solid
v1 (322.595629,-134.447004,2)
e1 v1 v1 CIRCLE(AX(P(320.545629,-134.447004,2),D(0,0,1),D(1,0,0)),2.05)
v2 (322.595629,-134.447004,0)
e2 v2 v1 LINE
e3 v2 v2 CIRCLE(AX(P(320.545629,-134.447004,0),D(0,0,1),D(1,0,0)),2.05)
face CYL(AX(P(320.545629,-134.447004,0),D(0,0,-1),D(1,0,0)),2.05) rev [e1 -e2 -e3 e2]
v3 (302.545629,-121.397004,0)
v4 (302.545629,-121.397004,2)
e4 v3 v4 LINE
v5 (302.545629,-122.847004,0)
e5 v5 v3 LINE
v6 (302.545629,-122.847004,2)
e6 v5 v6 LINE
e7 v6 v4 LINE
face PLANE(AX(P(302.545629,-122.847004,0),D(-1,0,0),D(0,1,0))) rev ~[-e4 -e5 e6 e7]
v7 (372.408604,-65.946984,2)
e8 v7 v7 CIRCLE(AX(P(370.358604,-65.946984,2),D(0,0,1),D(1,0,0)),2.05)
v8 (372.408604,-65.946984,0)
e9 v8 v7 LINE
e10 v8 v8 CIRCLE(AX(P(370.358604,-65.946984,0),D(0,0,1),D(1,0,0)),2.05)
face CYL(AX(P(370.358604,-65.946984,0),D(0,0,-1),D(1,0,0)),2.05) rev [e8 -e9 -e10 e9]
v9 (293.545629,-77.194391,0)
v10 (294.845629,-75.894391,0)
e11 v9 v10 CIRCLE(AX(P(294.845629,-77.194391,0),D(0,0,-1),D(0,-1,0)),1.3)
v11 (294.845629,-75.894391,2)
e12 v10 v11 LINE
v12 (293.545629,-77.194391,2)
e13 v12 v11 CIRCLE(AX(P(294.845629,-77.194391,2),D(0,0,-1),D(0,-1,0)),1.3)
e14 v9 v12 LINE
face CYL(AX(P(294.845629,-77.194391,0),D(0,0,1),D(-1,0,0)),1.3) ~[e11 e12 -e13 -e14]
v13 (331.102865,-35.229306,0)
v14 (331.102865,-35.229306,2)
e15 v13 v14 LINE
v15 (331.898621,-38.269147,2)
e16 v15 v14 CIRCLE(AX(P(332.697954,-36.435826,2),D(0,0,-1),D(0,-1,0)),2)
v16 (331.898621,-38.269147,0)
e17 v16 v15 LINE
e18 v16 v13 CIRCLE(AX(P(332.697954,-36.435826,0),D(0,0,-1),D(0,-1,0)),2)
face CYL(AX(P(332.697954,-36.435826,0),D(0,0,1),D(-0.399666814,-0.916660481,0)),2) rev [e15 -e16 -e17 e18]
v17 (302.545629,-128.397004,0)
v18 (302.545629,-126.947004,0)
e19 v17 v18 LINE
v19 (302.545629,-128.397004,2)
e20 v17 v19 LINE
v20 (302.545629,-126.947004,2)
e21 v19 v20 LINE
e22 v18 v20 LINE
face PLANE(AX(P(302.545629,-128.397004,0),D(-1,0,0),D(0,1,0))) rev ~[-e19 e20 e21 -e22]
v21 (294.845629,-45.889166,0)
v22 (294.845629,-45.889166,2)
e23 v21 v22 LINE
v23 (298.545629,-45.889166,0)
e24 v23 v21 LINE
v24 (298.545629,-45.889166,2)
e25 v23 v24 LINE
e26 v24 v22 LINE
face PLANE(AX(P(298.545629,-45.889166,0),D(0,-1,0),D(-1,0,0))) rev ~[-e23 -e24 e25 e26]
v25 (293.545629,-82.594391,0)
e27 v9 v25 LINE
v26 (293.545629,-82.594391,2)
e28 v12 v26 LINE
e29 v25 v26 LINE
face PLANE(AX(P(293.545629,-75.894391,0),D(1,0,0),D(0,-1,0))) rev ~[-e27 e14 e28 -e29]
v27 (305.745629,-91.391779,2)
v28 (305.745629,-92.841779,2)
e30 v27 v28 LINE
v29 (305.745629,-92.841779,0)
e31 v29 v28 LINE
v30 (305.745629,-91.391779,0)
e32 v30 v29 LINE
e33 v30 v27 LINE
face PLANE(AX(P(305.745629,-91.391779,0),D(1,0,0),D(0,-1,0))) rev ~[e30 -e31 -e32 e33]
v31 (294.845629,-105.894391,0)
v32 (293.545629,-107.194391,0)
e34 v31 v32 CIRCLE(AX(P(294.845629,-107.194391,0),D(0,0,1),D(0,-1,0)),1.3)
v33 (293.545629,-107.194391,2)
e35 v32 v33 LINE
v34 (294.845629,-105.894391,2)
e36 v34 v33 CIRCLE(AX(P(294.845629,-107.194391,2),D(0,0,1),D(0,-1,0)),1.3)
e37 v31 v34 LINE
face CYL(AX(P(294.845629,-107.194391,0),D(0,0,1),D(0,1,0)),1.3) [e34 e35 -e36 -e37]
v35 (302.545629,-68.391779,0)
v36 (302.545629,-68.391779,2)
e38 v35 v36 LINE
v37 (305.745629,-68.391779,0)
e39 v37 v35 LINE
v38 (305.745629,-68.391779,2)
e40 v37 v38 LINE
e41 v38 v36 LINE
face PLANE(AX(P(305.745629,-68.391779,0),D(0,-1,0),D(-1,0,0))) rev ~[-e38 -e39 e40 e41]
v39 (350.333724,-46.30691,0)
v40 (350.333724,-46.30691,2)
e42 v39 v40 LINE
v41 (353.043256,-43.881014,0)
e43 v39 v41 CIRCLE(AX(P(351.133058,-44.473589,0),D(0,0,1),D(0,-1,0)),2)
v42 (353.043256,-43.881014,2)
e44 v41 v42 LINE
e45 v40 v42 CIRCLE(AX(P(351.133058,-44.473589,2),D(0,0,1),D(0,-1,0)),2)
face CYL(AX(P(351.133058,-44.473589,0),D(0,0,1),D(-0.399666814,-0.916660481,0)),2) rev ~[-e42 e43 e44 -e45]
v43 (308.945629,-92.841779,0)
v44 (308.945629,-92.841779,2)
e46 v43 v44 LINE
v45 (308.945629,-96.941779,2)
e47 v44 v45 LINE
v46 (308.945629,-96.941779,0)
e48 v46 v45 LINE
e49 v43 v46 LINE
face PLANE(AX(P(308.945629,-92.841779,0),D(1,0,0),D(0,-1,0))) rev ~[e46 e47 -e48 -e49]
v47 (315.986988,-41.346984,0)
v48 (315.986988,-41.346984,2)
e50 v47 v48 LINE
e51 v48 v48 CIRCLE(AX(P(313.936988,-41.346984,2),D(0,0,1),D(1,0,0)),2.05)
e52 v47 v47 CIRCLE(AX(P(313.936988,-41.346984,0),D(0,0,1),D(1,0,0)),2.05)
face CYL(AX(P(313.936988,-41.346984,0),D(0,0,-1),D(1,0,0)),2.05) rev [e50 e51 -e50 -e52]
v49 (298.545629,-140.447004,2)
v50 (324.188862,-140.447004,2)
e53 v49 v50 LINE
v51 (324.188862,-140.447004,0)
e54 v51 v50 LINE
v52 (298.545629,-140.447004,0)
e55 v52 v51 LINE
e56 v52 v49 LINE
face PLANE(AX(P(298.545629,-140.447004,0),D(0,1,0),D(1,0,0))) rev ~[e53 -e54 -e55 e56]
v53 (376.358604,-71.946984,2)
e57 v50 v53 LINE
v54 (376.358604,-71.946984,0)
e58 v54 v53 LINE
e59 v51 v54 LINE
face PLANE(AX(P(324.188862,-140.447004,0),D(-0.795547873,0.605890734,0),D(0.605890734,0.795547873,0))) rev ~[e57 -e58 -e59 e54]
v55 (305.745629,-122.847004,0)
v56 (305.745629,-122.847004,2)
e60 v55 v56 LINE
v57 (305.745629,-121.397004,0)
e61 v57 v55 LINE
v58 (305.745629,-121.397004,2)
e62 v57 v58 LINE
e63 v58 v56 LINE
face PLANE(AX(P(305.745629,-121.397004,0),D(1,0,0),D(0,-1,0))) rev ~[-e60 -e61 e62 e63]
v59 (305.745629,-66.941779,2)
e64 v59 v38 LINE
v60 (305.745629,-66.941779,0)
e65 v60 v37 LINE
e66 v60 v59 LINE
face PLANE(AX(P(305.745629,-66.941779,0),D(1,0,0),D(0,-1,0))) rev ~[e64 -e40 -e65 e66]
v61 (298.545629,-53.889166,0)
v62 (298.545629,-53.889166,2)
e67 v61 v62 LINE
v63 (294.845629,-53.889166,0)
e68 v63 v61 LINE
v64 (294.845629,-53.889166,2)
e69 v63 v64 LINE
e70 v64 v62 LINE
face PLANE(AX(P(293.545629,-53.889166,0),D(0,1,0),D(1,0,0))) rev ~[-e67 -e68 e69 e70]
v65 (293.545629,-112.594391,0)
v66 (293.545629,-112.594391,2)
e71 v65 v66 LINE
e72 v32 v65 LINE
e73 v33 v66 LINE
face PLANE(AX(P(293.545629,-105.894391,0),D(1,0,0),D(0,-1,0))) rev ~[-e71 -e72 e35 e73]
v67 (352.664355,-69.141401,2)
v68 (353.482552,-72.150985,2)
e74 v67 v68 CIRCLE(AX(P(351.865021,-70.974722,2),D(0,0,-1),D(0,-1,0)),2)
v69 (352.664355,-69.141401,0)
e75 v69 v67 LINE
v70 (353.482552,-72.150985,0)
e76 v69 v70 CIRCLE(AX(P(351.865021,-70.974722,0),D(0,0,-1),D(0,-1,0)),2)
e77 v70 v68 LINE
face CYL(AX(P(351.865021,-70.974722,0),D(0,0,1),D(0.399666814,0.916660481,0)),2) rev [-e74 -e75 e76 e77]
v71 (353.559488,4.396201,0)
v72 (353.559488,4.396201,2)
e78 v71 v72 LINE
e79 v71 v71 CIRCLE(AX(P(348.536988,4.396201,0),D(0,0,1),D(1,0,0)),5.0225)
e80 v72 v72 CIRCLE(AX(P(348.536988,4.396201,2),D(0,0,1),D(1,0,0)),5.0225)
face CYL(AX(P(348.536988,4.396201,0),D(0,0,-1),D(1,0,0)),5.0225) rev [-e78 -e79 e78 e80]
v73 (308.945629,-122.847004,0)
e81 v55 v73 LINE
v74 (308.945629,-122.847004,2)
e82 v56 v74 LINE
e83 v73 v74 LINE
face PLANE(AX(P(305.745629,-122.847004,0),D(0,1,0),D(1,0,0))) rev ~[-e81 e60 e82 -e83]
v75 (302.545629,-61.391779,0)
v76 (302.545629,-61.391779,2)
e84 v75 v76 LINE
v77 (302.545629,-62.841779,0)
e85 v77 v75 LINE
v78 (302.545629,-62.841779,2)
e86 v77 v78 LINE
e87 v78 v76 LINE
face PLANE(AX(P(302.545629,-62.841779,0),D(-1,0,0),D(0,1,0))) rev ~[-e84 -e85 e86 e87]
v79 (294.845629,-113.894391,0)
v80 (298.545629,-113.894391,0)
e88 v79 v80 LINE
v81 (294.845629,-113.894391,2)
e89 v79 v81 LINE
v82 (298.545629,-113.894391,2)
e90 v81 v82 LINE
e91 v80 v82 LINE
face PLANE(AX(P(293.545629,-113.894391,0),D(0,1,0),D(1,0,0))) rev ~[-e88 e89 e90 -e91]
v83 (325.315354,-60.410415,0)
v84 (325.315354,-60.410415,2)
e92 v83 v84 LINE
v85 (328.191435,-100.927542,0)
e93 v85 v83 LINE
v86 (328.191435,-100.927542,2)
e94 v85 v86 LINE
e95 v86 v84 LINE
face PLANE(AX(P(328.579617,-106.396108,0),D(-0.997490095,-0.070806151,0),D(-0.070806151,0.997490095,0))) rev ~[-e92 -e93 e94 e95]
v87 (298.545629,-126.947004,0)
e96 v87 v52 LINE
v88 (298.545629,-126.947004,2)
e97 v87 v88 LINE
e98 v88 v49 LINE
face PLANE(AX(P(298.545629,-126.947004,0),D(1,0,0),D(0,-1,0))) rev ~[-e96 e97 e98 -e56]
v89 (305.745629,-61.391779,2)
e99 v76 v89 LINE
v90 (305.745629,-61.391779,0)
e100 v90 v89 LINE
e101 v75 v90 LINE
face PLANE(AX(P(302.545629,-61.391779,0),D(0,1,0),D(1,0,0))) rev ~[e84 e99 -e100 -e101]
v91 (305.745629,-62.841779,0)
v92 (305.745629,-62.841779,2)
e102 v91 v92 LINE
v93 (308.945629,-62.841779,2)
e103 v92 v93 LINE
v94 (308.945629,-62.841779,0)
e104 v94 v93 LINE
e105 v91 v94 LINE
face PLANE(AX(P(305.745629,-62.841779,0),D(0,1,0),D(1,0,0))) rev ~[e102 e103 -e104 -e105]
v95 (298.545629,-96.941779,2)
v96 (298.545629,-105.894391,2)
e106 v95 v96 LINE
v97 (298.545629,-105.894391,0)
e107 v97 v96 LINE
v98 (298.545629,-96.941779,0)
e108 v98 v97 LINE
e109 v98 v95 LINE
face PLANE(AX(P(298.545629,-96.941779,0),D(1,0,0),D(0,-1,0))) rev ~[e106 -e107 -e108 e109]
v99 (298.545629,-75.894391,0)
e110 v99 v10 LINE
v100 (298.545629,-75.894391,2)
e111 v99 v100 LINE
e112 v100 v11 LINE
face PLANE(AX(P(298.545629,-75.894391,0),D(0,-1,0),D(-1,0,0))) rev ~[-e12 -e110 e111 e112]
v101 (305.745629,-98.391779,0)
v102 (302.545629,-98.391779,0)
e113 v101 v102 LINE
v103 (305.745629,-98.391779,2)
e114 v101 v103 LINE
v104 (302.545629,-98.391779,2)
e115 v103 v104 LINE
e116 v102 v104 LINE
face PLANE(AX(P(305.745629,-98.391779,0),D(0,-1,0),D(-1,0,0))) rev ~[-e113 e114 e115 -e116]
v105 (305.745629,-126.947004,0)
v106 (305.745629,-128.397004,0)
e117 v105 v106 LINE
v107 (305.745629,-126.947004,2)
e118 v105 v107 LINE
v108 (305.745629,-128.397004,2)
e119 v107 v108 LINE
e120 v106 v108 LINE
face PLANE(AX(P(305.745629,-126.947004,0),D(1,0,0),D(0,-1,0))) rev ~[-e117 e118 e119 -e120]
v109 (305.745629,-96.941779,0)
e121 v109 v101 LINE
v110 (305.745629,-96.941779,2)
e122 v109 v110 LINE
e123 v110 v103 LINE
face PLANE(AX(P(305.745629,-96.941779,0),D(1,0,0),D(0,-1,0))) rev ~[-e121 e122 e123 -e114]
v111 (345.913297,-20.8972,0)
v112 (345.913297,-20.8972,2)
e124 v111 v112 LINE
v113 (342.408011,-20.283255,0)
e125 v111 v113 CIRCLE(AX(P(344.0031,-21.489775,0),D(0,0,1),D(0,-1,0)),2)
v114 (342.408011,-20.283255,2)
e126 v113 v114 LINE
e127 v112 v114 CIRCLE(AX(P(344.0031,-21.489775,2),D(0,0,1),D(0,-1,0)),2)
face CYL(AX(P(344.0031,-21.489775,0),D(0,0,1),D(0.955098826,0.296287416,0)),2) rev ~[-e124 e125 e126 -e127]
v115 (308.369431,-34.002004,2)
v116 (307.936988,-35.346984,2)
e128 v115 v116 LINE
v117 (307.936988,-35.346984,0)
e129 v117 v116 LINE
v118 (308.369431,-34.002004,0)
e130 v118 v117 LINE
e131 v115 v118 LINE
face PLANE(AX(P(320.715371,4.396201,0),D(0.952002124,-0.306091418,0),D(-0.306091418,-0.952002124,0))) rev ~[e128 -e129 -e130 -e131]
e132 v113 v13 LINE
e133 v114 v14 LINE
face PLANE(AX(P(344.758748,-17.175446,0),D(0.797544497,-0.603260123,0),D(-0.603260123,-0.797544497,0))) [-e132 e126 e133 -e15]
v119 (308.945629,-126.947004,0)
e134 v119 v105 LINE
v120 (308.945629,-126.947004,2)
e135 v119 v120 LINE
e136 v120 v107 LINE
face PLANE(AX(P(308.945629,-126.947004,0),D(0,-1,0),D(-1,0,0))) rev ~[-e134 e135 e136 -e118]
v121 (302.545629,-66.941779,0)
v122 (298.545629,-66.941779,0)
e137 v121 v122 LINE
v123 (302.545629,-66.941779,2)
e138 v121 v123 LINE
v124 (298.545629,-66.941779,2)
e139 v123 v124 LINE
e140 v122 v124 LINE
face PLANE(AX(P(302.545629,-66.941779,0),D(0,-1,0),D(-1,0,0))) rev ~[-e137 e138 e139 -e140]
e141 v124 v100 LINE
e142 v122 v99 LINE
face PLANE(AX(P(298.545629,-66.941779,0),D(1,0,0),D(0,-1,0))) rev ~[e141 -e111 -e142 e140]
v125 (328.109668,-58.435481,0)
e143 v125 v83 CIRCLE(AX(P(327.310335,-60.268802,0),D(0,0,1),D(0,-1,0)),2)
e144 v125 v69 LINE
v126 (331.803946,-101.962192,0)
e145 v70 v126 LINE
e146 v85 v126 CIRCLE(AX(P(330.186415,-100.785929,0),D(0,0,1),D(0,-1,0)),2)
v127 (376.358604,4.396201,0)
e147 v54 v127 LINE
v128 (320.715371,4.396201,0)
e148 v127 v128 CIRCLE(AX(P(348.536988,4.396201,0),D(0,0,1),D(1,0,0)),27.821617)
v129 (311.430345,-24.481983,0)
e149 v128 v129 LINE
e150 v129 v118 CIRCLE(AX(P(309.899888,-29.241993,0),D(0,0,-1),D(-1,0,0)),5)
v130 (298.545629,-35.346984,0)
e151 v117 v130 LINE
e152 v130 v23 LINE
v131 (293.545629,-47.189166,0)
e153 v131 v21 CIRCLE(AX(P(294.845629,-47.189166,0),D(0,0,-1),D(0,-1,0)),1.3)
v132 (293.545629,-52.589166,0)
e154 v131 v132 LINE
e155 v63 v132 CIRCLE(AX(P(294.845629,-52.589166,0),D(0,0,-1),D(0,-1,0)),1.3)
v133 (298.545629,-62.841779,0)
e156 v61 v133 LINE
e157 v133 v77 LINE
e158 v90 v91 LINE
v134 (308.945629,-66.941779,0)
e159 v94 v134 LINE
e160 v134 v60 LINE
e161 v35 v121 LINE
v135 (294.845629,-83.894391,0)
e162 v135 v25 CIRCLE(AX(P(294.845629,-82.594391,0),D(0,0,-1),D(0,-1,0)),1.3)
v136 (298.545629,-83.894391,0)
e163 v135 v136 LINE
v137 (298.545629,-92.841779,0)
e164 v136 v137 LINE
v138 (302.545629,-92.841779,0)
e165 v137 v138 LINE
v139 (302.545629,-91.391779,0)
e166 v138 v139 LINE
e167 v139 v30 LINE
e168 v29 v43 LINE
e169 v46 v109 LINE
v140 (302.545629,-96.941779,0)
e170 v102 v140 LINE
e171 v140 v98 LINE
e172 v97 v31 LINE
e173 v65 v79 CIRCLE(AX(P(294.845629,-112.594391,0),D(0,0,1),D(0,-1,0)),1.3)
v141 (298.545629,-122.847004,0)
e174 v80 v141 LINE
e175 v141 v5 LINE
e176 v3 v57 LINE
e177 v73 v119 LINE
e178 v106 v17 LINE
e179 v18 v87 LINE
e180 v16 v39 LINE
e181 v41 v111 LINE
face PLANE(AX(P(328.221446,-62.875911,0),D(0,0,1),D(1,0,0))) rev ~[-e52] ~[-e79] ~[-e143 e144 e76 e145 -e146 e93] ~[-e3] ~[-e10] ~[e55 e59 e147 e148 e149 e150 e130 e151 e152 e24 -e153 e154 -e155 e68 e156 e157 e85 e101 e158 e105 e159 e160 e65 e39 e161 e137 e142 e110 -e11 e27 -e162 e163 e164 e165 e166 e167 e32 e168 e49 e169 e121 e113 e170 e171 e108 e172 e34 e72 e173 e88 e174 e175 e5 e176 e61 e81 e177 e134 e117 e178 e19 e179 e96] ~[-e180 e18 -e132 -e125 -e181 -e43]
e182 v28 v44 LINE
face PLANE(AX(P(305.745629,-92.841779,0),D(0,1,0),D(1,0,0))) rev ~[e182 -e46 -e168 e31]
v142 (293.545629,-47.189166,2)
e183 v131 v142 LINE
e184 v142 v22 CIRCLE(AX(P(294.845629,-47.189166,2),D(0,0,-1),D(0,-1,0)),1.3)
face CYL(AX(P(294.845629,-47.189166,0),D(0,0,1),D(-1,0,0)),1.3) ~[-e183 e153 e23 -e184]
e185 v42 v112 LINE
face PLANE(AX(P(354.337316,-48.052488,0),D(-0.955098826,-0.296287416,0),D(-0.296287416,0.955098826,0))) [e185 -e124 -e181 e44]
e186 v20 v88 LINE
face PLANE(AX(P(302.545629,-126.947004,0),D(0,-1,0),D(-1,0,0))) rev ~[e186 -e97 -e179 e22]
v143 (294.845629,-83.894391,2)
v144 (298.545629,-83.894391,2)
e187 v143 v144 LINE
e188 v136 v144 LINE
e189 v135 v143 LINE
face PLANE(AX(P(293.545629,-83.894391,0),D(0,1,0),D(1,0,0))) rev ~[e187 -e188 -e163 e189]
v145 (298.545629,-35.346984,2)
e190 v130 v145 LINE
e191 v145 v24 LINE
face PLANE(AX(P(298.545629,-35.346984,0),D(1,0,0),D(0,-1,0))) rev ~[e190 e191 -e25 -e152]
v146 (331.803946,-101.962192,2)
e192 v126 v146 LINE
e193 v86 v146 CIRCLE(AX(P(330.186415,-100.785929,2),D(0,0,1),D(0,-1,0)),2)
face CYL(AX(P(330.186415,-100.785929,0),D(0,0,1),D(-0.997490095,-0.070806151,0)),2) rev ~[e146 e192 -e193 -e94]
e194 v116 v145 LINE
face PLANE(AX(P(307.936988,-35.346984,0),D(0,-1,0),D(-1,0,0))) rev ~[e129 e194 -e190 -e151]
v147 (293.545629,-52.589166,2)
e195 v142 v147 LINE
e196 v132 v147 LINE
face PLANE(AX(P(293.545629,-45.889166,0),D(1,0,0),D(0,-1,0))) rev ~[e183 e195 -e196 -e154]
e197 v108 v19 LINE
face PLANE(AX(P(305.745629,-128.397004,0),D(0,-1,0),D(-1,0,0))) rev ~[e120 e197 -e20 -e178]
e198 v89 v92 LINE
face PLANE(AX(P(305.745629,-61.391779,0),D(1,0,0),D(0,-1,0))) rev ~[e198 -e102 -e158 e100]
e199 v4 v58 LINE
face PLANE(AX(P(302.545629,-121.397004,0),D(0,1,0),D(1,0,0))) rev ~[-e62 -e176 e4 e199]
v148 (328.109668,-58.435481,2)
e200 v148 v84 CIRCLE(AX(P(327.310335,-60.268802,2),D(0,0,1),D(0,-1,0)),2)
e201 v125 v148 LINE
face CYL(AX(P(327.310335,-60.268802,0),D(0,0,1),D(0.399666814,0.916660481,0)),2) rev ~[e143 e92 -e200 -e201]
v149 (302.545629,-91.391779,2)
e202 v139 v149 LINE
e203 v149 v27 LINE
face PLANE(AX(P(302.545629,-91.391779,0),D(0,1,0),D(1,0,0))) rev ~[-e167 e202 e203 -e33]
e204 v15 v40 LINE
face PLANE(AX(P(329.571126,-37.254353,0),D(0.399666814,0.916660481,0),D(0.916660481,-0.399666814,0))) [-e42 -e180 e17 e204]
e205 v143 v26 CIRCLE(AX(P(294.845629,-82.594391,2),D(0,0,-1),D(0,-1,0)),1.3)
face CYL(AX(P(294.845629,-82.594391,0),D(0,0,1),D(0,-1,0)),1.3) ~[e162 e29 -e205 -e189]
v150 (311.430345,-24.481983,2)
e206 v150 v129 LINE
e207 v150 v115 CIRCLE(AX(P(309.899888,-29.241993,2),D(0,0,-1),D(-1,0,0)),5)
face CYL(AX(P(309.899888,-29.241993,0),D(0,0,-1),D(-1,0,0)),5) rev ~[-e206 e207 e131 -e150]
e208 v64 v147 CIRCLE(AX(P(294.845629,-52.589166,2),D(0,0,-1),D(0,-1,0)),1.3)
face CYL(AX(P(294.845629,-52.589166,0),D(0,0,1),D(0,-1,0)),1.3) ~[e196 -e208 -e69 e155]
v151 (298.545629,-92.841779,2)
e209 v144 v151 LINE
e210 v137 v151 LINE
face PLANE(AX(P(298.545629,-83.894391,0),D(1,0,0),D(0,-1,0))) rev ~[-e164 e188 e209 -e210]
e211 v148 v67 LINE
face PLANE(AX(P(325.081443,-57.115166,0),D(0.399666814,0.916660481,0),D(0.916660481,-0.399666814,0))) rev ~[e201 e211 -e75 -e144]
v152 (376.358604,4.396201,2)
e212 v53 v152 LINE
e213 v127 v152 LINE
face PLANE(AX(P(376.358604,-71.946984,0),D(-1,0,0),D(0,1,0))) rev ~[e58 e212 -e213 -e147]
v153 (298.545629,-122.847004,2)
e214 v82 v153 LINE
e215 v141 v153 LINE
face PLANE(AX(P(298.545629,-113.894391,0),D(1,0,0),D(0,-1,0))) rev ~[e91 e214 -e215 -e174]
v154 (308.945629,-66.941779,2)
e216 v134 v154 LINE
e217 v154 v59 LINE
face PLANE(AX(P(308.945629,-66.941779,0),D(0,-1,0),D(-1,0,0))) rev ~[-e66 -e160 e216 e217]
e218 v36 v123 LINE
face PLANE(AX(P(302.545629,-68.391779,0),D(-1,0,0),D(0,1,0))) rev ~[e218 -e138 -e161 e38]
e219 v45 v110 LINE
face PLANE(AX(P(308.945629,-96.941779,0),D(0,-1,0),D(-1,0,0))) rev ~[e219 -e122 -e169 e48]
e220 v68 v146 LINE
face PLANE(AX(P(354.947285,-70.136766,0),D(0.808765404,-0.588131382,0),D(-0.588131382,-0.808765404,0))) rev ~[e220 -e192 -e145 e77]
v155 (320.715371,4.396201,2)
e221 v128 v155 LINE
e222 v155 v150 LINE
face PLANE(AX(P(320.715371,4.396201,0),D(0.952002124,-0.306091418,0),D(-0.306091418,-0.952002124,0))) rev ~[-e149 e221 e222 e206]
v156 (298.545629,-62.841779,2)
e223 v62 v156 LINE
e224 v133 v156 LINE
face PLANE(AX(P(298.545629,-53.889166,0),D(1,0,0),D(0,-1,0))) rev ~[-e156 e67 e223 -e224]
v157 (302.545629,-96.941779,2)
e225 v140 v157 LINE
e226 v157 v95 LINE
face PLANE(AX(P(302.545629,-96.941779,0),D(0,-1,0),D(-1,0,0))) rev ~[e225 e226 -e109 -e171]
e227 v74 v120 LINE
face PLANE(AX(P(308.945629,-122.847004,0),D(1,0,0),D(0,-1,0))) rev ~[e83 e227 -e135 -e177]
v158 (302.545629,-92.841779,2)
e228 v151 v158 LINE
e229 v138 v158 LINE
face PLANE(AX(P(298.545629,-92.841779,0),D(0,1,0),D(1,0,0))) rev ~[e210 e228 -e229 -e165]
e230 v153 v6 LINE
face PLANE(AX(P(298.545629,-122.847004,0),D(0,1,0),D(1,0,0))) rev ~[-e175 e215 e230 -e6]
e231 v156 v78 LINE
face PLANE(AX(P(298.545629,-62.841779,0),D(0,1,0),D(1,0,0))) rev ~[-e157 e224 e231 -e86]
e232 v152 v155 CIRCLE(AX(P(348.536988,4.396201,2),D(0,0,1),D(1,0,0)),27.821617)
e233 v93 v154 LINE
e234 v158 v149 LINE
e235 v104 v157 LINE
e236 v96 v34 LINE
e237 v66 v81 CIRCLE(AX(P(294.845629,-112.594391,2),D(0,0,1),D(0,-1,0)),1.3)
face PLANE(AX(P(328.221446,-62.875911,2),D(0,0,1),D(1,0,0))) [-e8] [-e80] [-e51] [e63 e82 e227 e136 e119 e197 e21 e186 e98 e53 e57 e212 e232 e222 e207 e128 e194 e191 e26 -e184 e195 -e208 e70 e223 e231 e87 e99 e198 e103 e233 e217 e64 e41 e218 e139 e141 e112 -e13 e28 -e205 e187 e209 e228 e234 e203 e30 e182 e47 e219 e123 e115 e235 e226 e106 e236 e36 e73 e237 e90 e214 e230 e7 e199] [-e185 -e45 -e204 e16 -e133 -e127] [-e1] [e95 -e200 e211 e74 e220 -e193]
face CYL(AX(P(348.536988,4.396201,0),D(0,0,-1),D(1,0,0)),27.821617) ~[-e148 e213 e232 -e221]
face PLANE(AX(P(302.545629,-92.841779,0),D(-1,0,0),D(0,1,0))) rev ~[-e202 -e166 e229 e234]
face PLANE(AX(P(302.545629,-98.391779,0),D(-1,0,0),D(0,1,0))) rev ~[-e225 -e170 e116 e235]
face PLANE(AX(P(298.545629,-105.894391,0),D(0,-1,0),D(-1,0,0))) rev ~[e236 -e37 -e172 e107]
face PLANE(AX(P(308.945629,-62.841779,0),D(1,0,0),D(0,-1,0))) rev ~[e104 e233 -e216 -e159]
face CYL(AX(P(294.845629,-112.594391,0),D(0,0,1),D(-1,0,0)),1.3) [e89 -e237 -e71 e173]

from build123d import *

# Parameters (mm, degrees)
SKETCH_1_R          = 5.0225
SKETCH_1_R_2        = 2.05
EXTRUDE_1_DEPTH     = 2
FILLET_1_R          = 2
FILLET_2_R          = 1.3
SKETCH_3_R          = 5
CUT_EXTRUDE_1_DEPTH = 2


with BuildPart() as part:
    # 草图1 → 凸台-拉伸1 (new body)
    with BuildSketch(Plane.XY):
        with BuildLine():
            Line((298.545628784, -83.894391363), (298.545628784, -92.841778663))
            Line((298.545628784, -92.841778663), (302.545628784, -92.841778663))
            Line((302.545628784, -92.841778663), (302.545628784, -91.391778663))
            Line((302.545628784, -91.391778663), (305.745628784, -91.391778663))
            Line((305.745628784, -91.391778663), (305.745628784, -92.841778663))
            Line((305.745628784, -92.841778663), (308.945628784, -92.841778663))
            Line((308.945628784, -92.841778663), (308.945628784, -96.941778663))
            Line((308.945628784, -96.941778663), (305.745628784, -96.941778663))
            Line((305.745628784, -96.941778663), (305.745628784, -98.391778663))
            Line((305.745628784, -98.391778663), (302.545628784, -98.391778663))
            Line((302.545628784, -98.391778663), (302.545628784, -96.941778663))
            Line((302.545628784, -96.941778663), (298.545628784, -96.941778663))
            Line((298.545628784, -96.941778663), (298.545628784, -105.894391358))
            Line((298.545628784, -105.894391358), (293.545628784, -105.894391358))
            Line((293.545628784, -105.894391358), (293.545628784, -113.894391358))
            Line((293.545628784, -113.894391358), (298.545628784, -113.894391358))
            Line((298.545628784, -113.894391358), (298.545628784, -122.847004054))
            Line((298.545628784, -122.847004054), (302.545628784, -122.847004054))
            Line((302.545628784, -122.847004054), (302.545628784, -121.397004054))
            Line((302.545628784, -121.397004054), (305.745628784, -121.397004054))
            Line((305.745628784, -121.397004054), (305.745628784, -122.847004054))
            Line((305.745628784, -122.847004054), (308.945628784, -122.847004054))
            Line((308.945628784, -122.847004054), (308.945628784, -126.947004054))
            Line((308.945628784, -126.947004054), (305.745628784, -126.947004054))
            Line((305.745628784, -126.947004054), (305.745628784, -128.397004054))
            Line((305.745628784, -128.397004054), (302.545628784, -128.397004054))
            Line((302.545628784, -128.397004054), (302.545628784, -126.947004054))
            Line((302.545628784, -126.947004054), (298.545628784, -126.947004054))
            Line((298.545628784, -126.947004054), (298.545628784, -140.447004054))
            Line((298.545628784, -140.447004054), (324.188862368, -140.447004054))
            Line((324.188862368, -140.447004054), (376.358604426, -71.946984141))
            Line((376.358604426, -71.946984141), (376.358604426, 4.396201153))
            ThreePointArc((376.358604426, 4.396201153), (348.536987634, 32.217817945), (320.715370843, 4.396201153))
            Line((320.715370843, 4.396201153), (307.936987634, -35.346984141))
            Line((307.936987634, -35.346984141), (298.545628784, -35.346984141))
            Line((298.545628784, -35.346984141), (298.545628784, -45.889165972))
            Line((298.545628784, -45.889165972), (293.545628784, -45.889165972))
            Line((293.545628784, -45.889165972), (293.545628784, -53.889165972))
            Line((293.545628784, -53.889165972), (298.545628784, -53.889165972))
            Line((298.545628784, -53.889165972), (298.545628784, -62.841778668))
            Line((298.545628784, -62.841778668), (302.545628784, -62.841778668))
            Line((302.545628784, -62.841778668), (302.545628784, -61.391778668))
            Line((302.545628784, -61.391778668), (305.745628784, -61.391778668))
            Line((305.745628784, -61.391778668), (305.745628784, -62.841778668))
            Line((305.745628784, -62.841778668), (308.945628784, -62.841778668))
            Line((308.945628784, -62.841778668), (308.945628784, -66.941778668))
            Line((308.945628784, -66.941778668), (305.745628784, -66.941778668))
            Line((305.745628784, -66.941778668), (305.745628784, -68.391778668))
            Line((305.745628784, -68.391778668), (302.545628784, -68.391778668))
            Line((302.545628784, -68.391778668), (302.545628784, -66.941778668))
            Line((302.545628784, -66.941778668), (298.545628784, -66.941778668))
            Line((298.545628784, -66.941778668), (298.545628784, -75.894391363))
            Line((298.545628784, -75.894391363), (293.545628784, -75.894391363))
            Line((293.545628784, -75.894391363), (293.545628784, -83.894391363))
            Line((293.545628784, -83.894391363), (298.545628784, -83.894391363))
        make_face()
        with Locations((348.536987634, 4.396201153)):
            Circle(SKETCH_1_R, mode=Mode.SUBTRACT)
        with Locations((320.545628784, -134.447004054)):
            Circle(SKETCH_1_R_2, mode=Mode.SUBTRACT)
        with Locations((370.358604426, -65.946984141)):
            Circle(SKETCH_1_R_2, mode=Mode.SUBTRACT)
        with Locations((313.936987634, -41.346984141)):
            Circle(SKETCH_1_R_2, mode=Mode.SUBTRACT)
        Polygon((354.947285032, -70.136765586), (328.579617375, -106.396108383), (325.08144343, -57.115165973), align=None, mode=Mode.SUBTRACT)
        Polygon((329.571126451, -37.254352656), (354.337315751, -48.052488042), (344.758747766, -17.175445836), align=None, mode=Mode.SUBTRACT)
    extrude(amount=EXTRUDE_1_DEPTH)

    # 圆角1
    fillet_1_edges = [part.edges().sort_by_distance(p)[0] for p in [
        (354.947285032, -70.136765586, 1),
        (325.08144343, -57.115165973, 1),
        (328.579617375, -106.396108383, 1),
        (344.758747766, -17.175445836, 1),
        (329.571126451, -37.254352656, 1),
        (354.337315751, -48.052488042, 1),
    ]]
    fillet(fillet_1_edges, radius=FILLET_1_R)

    # 圆角2
    fillet_2_edges = [part.edges().sort_by_distance(p)[0] for p in [
        (293.545628784, -113.894391358, 1),
        (293.545628784, -105.894391358, 1),
        (293.545628784, -83.894391363, 1),
        (293.545628784, -75.894391363, 1),
        (293.545628784, -53.889165972, 1),
        (293.545628784, -45.889165972, 1),
    ]]
    fillet(fillet_2_edges, radius=FILLET_2_R)

    # 草图3 → 切除-拉伸1 (cut)
    with BuildSketch(Plane(origin=(0, 0, 0), x_dir=(-1, 0, 0), z_dir=(0, 0, -1))):
        with Locations((-309.899887982, -29.241993317)):
            Circle(SKETCH_3_R)
    extrude(amount=-CUT_EXTRUDE_1_DEPTH, mode=Mode.SUBTRACT)


solid = part.part
